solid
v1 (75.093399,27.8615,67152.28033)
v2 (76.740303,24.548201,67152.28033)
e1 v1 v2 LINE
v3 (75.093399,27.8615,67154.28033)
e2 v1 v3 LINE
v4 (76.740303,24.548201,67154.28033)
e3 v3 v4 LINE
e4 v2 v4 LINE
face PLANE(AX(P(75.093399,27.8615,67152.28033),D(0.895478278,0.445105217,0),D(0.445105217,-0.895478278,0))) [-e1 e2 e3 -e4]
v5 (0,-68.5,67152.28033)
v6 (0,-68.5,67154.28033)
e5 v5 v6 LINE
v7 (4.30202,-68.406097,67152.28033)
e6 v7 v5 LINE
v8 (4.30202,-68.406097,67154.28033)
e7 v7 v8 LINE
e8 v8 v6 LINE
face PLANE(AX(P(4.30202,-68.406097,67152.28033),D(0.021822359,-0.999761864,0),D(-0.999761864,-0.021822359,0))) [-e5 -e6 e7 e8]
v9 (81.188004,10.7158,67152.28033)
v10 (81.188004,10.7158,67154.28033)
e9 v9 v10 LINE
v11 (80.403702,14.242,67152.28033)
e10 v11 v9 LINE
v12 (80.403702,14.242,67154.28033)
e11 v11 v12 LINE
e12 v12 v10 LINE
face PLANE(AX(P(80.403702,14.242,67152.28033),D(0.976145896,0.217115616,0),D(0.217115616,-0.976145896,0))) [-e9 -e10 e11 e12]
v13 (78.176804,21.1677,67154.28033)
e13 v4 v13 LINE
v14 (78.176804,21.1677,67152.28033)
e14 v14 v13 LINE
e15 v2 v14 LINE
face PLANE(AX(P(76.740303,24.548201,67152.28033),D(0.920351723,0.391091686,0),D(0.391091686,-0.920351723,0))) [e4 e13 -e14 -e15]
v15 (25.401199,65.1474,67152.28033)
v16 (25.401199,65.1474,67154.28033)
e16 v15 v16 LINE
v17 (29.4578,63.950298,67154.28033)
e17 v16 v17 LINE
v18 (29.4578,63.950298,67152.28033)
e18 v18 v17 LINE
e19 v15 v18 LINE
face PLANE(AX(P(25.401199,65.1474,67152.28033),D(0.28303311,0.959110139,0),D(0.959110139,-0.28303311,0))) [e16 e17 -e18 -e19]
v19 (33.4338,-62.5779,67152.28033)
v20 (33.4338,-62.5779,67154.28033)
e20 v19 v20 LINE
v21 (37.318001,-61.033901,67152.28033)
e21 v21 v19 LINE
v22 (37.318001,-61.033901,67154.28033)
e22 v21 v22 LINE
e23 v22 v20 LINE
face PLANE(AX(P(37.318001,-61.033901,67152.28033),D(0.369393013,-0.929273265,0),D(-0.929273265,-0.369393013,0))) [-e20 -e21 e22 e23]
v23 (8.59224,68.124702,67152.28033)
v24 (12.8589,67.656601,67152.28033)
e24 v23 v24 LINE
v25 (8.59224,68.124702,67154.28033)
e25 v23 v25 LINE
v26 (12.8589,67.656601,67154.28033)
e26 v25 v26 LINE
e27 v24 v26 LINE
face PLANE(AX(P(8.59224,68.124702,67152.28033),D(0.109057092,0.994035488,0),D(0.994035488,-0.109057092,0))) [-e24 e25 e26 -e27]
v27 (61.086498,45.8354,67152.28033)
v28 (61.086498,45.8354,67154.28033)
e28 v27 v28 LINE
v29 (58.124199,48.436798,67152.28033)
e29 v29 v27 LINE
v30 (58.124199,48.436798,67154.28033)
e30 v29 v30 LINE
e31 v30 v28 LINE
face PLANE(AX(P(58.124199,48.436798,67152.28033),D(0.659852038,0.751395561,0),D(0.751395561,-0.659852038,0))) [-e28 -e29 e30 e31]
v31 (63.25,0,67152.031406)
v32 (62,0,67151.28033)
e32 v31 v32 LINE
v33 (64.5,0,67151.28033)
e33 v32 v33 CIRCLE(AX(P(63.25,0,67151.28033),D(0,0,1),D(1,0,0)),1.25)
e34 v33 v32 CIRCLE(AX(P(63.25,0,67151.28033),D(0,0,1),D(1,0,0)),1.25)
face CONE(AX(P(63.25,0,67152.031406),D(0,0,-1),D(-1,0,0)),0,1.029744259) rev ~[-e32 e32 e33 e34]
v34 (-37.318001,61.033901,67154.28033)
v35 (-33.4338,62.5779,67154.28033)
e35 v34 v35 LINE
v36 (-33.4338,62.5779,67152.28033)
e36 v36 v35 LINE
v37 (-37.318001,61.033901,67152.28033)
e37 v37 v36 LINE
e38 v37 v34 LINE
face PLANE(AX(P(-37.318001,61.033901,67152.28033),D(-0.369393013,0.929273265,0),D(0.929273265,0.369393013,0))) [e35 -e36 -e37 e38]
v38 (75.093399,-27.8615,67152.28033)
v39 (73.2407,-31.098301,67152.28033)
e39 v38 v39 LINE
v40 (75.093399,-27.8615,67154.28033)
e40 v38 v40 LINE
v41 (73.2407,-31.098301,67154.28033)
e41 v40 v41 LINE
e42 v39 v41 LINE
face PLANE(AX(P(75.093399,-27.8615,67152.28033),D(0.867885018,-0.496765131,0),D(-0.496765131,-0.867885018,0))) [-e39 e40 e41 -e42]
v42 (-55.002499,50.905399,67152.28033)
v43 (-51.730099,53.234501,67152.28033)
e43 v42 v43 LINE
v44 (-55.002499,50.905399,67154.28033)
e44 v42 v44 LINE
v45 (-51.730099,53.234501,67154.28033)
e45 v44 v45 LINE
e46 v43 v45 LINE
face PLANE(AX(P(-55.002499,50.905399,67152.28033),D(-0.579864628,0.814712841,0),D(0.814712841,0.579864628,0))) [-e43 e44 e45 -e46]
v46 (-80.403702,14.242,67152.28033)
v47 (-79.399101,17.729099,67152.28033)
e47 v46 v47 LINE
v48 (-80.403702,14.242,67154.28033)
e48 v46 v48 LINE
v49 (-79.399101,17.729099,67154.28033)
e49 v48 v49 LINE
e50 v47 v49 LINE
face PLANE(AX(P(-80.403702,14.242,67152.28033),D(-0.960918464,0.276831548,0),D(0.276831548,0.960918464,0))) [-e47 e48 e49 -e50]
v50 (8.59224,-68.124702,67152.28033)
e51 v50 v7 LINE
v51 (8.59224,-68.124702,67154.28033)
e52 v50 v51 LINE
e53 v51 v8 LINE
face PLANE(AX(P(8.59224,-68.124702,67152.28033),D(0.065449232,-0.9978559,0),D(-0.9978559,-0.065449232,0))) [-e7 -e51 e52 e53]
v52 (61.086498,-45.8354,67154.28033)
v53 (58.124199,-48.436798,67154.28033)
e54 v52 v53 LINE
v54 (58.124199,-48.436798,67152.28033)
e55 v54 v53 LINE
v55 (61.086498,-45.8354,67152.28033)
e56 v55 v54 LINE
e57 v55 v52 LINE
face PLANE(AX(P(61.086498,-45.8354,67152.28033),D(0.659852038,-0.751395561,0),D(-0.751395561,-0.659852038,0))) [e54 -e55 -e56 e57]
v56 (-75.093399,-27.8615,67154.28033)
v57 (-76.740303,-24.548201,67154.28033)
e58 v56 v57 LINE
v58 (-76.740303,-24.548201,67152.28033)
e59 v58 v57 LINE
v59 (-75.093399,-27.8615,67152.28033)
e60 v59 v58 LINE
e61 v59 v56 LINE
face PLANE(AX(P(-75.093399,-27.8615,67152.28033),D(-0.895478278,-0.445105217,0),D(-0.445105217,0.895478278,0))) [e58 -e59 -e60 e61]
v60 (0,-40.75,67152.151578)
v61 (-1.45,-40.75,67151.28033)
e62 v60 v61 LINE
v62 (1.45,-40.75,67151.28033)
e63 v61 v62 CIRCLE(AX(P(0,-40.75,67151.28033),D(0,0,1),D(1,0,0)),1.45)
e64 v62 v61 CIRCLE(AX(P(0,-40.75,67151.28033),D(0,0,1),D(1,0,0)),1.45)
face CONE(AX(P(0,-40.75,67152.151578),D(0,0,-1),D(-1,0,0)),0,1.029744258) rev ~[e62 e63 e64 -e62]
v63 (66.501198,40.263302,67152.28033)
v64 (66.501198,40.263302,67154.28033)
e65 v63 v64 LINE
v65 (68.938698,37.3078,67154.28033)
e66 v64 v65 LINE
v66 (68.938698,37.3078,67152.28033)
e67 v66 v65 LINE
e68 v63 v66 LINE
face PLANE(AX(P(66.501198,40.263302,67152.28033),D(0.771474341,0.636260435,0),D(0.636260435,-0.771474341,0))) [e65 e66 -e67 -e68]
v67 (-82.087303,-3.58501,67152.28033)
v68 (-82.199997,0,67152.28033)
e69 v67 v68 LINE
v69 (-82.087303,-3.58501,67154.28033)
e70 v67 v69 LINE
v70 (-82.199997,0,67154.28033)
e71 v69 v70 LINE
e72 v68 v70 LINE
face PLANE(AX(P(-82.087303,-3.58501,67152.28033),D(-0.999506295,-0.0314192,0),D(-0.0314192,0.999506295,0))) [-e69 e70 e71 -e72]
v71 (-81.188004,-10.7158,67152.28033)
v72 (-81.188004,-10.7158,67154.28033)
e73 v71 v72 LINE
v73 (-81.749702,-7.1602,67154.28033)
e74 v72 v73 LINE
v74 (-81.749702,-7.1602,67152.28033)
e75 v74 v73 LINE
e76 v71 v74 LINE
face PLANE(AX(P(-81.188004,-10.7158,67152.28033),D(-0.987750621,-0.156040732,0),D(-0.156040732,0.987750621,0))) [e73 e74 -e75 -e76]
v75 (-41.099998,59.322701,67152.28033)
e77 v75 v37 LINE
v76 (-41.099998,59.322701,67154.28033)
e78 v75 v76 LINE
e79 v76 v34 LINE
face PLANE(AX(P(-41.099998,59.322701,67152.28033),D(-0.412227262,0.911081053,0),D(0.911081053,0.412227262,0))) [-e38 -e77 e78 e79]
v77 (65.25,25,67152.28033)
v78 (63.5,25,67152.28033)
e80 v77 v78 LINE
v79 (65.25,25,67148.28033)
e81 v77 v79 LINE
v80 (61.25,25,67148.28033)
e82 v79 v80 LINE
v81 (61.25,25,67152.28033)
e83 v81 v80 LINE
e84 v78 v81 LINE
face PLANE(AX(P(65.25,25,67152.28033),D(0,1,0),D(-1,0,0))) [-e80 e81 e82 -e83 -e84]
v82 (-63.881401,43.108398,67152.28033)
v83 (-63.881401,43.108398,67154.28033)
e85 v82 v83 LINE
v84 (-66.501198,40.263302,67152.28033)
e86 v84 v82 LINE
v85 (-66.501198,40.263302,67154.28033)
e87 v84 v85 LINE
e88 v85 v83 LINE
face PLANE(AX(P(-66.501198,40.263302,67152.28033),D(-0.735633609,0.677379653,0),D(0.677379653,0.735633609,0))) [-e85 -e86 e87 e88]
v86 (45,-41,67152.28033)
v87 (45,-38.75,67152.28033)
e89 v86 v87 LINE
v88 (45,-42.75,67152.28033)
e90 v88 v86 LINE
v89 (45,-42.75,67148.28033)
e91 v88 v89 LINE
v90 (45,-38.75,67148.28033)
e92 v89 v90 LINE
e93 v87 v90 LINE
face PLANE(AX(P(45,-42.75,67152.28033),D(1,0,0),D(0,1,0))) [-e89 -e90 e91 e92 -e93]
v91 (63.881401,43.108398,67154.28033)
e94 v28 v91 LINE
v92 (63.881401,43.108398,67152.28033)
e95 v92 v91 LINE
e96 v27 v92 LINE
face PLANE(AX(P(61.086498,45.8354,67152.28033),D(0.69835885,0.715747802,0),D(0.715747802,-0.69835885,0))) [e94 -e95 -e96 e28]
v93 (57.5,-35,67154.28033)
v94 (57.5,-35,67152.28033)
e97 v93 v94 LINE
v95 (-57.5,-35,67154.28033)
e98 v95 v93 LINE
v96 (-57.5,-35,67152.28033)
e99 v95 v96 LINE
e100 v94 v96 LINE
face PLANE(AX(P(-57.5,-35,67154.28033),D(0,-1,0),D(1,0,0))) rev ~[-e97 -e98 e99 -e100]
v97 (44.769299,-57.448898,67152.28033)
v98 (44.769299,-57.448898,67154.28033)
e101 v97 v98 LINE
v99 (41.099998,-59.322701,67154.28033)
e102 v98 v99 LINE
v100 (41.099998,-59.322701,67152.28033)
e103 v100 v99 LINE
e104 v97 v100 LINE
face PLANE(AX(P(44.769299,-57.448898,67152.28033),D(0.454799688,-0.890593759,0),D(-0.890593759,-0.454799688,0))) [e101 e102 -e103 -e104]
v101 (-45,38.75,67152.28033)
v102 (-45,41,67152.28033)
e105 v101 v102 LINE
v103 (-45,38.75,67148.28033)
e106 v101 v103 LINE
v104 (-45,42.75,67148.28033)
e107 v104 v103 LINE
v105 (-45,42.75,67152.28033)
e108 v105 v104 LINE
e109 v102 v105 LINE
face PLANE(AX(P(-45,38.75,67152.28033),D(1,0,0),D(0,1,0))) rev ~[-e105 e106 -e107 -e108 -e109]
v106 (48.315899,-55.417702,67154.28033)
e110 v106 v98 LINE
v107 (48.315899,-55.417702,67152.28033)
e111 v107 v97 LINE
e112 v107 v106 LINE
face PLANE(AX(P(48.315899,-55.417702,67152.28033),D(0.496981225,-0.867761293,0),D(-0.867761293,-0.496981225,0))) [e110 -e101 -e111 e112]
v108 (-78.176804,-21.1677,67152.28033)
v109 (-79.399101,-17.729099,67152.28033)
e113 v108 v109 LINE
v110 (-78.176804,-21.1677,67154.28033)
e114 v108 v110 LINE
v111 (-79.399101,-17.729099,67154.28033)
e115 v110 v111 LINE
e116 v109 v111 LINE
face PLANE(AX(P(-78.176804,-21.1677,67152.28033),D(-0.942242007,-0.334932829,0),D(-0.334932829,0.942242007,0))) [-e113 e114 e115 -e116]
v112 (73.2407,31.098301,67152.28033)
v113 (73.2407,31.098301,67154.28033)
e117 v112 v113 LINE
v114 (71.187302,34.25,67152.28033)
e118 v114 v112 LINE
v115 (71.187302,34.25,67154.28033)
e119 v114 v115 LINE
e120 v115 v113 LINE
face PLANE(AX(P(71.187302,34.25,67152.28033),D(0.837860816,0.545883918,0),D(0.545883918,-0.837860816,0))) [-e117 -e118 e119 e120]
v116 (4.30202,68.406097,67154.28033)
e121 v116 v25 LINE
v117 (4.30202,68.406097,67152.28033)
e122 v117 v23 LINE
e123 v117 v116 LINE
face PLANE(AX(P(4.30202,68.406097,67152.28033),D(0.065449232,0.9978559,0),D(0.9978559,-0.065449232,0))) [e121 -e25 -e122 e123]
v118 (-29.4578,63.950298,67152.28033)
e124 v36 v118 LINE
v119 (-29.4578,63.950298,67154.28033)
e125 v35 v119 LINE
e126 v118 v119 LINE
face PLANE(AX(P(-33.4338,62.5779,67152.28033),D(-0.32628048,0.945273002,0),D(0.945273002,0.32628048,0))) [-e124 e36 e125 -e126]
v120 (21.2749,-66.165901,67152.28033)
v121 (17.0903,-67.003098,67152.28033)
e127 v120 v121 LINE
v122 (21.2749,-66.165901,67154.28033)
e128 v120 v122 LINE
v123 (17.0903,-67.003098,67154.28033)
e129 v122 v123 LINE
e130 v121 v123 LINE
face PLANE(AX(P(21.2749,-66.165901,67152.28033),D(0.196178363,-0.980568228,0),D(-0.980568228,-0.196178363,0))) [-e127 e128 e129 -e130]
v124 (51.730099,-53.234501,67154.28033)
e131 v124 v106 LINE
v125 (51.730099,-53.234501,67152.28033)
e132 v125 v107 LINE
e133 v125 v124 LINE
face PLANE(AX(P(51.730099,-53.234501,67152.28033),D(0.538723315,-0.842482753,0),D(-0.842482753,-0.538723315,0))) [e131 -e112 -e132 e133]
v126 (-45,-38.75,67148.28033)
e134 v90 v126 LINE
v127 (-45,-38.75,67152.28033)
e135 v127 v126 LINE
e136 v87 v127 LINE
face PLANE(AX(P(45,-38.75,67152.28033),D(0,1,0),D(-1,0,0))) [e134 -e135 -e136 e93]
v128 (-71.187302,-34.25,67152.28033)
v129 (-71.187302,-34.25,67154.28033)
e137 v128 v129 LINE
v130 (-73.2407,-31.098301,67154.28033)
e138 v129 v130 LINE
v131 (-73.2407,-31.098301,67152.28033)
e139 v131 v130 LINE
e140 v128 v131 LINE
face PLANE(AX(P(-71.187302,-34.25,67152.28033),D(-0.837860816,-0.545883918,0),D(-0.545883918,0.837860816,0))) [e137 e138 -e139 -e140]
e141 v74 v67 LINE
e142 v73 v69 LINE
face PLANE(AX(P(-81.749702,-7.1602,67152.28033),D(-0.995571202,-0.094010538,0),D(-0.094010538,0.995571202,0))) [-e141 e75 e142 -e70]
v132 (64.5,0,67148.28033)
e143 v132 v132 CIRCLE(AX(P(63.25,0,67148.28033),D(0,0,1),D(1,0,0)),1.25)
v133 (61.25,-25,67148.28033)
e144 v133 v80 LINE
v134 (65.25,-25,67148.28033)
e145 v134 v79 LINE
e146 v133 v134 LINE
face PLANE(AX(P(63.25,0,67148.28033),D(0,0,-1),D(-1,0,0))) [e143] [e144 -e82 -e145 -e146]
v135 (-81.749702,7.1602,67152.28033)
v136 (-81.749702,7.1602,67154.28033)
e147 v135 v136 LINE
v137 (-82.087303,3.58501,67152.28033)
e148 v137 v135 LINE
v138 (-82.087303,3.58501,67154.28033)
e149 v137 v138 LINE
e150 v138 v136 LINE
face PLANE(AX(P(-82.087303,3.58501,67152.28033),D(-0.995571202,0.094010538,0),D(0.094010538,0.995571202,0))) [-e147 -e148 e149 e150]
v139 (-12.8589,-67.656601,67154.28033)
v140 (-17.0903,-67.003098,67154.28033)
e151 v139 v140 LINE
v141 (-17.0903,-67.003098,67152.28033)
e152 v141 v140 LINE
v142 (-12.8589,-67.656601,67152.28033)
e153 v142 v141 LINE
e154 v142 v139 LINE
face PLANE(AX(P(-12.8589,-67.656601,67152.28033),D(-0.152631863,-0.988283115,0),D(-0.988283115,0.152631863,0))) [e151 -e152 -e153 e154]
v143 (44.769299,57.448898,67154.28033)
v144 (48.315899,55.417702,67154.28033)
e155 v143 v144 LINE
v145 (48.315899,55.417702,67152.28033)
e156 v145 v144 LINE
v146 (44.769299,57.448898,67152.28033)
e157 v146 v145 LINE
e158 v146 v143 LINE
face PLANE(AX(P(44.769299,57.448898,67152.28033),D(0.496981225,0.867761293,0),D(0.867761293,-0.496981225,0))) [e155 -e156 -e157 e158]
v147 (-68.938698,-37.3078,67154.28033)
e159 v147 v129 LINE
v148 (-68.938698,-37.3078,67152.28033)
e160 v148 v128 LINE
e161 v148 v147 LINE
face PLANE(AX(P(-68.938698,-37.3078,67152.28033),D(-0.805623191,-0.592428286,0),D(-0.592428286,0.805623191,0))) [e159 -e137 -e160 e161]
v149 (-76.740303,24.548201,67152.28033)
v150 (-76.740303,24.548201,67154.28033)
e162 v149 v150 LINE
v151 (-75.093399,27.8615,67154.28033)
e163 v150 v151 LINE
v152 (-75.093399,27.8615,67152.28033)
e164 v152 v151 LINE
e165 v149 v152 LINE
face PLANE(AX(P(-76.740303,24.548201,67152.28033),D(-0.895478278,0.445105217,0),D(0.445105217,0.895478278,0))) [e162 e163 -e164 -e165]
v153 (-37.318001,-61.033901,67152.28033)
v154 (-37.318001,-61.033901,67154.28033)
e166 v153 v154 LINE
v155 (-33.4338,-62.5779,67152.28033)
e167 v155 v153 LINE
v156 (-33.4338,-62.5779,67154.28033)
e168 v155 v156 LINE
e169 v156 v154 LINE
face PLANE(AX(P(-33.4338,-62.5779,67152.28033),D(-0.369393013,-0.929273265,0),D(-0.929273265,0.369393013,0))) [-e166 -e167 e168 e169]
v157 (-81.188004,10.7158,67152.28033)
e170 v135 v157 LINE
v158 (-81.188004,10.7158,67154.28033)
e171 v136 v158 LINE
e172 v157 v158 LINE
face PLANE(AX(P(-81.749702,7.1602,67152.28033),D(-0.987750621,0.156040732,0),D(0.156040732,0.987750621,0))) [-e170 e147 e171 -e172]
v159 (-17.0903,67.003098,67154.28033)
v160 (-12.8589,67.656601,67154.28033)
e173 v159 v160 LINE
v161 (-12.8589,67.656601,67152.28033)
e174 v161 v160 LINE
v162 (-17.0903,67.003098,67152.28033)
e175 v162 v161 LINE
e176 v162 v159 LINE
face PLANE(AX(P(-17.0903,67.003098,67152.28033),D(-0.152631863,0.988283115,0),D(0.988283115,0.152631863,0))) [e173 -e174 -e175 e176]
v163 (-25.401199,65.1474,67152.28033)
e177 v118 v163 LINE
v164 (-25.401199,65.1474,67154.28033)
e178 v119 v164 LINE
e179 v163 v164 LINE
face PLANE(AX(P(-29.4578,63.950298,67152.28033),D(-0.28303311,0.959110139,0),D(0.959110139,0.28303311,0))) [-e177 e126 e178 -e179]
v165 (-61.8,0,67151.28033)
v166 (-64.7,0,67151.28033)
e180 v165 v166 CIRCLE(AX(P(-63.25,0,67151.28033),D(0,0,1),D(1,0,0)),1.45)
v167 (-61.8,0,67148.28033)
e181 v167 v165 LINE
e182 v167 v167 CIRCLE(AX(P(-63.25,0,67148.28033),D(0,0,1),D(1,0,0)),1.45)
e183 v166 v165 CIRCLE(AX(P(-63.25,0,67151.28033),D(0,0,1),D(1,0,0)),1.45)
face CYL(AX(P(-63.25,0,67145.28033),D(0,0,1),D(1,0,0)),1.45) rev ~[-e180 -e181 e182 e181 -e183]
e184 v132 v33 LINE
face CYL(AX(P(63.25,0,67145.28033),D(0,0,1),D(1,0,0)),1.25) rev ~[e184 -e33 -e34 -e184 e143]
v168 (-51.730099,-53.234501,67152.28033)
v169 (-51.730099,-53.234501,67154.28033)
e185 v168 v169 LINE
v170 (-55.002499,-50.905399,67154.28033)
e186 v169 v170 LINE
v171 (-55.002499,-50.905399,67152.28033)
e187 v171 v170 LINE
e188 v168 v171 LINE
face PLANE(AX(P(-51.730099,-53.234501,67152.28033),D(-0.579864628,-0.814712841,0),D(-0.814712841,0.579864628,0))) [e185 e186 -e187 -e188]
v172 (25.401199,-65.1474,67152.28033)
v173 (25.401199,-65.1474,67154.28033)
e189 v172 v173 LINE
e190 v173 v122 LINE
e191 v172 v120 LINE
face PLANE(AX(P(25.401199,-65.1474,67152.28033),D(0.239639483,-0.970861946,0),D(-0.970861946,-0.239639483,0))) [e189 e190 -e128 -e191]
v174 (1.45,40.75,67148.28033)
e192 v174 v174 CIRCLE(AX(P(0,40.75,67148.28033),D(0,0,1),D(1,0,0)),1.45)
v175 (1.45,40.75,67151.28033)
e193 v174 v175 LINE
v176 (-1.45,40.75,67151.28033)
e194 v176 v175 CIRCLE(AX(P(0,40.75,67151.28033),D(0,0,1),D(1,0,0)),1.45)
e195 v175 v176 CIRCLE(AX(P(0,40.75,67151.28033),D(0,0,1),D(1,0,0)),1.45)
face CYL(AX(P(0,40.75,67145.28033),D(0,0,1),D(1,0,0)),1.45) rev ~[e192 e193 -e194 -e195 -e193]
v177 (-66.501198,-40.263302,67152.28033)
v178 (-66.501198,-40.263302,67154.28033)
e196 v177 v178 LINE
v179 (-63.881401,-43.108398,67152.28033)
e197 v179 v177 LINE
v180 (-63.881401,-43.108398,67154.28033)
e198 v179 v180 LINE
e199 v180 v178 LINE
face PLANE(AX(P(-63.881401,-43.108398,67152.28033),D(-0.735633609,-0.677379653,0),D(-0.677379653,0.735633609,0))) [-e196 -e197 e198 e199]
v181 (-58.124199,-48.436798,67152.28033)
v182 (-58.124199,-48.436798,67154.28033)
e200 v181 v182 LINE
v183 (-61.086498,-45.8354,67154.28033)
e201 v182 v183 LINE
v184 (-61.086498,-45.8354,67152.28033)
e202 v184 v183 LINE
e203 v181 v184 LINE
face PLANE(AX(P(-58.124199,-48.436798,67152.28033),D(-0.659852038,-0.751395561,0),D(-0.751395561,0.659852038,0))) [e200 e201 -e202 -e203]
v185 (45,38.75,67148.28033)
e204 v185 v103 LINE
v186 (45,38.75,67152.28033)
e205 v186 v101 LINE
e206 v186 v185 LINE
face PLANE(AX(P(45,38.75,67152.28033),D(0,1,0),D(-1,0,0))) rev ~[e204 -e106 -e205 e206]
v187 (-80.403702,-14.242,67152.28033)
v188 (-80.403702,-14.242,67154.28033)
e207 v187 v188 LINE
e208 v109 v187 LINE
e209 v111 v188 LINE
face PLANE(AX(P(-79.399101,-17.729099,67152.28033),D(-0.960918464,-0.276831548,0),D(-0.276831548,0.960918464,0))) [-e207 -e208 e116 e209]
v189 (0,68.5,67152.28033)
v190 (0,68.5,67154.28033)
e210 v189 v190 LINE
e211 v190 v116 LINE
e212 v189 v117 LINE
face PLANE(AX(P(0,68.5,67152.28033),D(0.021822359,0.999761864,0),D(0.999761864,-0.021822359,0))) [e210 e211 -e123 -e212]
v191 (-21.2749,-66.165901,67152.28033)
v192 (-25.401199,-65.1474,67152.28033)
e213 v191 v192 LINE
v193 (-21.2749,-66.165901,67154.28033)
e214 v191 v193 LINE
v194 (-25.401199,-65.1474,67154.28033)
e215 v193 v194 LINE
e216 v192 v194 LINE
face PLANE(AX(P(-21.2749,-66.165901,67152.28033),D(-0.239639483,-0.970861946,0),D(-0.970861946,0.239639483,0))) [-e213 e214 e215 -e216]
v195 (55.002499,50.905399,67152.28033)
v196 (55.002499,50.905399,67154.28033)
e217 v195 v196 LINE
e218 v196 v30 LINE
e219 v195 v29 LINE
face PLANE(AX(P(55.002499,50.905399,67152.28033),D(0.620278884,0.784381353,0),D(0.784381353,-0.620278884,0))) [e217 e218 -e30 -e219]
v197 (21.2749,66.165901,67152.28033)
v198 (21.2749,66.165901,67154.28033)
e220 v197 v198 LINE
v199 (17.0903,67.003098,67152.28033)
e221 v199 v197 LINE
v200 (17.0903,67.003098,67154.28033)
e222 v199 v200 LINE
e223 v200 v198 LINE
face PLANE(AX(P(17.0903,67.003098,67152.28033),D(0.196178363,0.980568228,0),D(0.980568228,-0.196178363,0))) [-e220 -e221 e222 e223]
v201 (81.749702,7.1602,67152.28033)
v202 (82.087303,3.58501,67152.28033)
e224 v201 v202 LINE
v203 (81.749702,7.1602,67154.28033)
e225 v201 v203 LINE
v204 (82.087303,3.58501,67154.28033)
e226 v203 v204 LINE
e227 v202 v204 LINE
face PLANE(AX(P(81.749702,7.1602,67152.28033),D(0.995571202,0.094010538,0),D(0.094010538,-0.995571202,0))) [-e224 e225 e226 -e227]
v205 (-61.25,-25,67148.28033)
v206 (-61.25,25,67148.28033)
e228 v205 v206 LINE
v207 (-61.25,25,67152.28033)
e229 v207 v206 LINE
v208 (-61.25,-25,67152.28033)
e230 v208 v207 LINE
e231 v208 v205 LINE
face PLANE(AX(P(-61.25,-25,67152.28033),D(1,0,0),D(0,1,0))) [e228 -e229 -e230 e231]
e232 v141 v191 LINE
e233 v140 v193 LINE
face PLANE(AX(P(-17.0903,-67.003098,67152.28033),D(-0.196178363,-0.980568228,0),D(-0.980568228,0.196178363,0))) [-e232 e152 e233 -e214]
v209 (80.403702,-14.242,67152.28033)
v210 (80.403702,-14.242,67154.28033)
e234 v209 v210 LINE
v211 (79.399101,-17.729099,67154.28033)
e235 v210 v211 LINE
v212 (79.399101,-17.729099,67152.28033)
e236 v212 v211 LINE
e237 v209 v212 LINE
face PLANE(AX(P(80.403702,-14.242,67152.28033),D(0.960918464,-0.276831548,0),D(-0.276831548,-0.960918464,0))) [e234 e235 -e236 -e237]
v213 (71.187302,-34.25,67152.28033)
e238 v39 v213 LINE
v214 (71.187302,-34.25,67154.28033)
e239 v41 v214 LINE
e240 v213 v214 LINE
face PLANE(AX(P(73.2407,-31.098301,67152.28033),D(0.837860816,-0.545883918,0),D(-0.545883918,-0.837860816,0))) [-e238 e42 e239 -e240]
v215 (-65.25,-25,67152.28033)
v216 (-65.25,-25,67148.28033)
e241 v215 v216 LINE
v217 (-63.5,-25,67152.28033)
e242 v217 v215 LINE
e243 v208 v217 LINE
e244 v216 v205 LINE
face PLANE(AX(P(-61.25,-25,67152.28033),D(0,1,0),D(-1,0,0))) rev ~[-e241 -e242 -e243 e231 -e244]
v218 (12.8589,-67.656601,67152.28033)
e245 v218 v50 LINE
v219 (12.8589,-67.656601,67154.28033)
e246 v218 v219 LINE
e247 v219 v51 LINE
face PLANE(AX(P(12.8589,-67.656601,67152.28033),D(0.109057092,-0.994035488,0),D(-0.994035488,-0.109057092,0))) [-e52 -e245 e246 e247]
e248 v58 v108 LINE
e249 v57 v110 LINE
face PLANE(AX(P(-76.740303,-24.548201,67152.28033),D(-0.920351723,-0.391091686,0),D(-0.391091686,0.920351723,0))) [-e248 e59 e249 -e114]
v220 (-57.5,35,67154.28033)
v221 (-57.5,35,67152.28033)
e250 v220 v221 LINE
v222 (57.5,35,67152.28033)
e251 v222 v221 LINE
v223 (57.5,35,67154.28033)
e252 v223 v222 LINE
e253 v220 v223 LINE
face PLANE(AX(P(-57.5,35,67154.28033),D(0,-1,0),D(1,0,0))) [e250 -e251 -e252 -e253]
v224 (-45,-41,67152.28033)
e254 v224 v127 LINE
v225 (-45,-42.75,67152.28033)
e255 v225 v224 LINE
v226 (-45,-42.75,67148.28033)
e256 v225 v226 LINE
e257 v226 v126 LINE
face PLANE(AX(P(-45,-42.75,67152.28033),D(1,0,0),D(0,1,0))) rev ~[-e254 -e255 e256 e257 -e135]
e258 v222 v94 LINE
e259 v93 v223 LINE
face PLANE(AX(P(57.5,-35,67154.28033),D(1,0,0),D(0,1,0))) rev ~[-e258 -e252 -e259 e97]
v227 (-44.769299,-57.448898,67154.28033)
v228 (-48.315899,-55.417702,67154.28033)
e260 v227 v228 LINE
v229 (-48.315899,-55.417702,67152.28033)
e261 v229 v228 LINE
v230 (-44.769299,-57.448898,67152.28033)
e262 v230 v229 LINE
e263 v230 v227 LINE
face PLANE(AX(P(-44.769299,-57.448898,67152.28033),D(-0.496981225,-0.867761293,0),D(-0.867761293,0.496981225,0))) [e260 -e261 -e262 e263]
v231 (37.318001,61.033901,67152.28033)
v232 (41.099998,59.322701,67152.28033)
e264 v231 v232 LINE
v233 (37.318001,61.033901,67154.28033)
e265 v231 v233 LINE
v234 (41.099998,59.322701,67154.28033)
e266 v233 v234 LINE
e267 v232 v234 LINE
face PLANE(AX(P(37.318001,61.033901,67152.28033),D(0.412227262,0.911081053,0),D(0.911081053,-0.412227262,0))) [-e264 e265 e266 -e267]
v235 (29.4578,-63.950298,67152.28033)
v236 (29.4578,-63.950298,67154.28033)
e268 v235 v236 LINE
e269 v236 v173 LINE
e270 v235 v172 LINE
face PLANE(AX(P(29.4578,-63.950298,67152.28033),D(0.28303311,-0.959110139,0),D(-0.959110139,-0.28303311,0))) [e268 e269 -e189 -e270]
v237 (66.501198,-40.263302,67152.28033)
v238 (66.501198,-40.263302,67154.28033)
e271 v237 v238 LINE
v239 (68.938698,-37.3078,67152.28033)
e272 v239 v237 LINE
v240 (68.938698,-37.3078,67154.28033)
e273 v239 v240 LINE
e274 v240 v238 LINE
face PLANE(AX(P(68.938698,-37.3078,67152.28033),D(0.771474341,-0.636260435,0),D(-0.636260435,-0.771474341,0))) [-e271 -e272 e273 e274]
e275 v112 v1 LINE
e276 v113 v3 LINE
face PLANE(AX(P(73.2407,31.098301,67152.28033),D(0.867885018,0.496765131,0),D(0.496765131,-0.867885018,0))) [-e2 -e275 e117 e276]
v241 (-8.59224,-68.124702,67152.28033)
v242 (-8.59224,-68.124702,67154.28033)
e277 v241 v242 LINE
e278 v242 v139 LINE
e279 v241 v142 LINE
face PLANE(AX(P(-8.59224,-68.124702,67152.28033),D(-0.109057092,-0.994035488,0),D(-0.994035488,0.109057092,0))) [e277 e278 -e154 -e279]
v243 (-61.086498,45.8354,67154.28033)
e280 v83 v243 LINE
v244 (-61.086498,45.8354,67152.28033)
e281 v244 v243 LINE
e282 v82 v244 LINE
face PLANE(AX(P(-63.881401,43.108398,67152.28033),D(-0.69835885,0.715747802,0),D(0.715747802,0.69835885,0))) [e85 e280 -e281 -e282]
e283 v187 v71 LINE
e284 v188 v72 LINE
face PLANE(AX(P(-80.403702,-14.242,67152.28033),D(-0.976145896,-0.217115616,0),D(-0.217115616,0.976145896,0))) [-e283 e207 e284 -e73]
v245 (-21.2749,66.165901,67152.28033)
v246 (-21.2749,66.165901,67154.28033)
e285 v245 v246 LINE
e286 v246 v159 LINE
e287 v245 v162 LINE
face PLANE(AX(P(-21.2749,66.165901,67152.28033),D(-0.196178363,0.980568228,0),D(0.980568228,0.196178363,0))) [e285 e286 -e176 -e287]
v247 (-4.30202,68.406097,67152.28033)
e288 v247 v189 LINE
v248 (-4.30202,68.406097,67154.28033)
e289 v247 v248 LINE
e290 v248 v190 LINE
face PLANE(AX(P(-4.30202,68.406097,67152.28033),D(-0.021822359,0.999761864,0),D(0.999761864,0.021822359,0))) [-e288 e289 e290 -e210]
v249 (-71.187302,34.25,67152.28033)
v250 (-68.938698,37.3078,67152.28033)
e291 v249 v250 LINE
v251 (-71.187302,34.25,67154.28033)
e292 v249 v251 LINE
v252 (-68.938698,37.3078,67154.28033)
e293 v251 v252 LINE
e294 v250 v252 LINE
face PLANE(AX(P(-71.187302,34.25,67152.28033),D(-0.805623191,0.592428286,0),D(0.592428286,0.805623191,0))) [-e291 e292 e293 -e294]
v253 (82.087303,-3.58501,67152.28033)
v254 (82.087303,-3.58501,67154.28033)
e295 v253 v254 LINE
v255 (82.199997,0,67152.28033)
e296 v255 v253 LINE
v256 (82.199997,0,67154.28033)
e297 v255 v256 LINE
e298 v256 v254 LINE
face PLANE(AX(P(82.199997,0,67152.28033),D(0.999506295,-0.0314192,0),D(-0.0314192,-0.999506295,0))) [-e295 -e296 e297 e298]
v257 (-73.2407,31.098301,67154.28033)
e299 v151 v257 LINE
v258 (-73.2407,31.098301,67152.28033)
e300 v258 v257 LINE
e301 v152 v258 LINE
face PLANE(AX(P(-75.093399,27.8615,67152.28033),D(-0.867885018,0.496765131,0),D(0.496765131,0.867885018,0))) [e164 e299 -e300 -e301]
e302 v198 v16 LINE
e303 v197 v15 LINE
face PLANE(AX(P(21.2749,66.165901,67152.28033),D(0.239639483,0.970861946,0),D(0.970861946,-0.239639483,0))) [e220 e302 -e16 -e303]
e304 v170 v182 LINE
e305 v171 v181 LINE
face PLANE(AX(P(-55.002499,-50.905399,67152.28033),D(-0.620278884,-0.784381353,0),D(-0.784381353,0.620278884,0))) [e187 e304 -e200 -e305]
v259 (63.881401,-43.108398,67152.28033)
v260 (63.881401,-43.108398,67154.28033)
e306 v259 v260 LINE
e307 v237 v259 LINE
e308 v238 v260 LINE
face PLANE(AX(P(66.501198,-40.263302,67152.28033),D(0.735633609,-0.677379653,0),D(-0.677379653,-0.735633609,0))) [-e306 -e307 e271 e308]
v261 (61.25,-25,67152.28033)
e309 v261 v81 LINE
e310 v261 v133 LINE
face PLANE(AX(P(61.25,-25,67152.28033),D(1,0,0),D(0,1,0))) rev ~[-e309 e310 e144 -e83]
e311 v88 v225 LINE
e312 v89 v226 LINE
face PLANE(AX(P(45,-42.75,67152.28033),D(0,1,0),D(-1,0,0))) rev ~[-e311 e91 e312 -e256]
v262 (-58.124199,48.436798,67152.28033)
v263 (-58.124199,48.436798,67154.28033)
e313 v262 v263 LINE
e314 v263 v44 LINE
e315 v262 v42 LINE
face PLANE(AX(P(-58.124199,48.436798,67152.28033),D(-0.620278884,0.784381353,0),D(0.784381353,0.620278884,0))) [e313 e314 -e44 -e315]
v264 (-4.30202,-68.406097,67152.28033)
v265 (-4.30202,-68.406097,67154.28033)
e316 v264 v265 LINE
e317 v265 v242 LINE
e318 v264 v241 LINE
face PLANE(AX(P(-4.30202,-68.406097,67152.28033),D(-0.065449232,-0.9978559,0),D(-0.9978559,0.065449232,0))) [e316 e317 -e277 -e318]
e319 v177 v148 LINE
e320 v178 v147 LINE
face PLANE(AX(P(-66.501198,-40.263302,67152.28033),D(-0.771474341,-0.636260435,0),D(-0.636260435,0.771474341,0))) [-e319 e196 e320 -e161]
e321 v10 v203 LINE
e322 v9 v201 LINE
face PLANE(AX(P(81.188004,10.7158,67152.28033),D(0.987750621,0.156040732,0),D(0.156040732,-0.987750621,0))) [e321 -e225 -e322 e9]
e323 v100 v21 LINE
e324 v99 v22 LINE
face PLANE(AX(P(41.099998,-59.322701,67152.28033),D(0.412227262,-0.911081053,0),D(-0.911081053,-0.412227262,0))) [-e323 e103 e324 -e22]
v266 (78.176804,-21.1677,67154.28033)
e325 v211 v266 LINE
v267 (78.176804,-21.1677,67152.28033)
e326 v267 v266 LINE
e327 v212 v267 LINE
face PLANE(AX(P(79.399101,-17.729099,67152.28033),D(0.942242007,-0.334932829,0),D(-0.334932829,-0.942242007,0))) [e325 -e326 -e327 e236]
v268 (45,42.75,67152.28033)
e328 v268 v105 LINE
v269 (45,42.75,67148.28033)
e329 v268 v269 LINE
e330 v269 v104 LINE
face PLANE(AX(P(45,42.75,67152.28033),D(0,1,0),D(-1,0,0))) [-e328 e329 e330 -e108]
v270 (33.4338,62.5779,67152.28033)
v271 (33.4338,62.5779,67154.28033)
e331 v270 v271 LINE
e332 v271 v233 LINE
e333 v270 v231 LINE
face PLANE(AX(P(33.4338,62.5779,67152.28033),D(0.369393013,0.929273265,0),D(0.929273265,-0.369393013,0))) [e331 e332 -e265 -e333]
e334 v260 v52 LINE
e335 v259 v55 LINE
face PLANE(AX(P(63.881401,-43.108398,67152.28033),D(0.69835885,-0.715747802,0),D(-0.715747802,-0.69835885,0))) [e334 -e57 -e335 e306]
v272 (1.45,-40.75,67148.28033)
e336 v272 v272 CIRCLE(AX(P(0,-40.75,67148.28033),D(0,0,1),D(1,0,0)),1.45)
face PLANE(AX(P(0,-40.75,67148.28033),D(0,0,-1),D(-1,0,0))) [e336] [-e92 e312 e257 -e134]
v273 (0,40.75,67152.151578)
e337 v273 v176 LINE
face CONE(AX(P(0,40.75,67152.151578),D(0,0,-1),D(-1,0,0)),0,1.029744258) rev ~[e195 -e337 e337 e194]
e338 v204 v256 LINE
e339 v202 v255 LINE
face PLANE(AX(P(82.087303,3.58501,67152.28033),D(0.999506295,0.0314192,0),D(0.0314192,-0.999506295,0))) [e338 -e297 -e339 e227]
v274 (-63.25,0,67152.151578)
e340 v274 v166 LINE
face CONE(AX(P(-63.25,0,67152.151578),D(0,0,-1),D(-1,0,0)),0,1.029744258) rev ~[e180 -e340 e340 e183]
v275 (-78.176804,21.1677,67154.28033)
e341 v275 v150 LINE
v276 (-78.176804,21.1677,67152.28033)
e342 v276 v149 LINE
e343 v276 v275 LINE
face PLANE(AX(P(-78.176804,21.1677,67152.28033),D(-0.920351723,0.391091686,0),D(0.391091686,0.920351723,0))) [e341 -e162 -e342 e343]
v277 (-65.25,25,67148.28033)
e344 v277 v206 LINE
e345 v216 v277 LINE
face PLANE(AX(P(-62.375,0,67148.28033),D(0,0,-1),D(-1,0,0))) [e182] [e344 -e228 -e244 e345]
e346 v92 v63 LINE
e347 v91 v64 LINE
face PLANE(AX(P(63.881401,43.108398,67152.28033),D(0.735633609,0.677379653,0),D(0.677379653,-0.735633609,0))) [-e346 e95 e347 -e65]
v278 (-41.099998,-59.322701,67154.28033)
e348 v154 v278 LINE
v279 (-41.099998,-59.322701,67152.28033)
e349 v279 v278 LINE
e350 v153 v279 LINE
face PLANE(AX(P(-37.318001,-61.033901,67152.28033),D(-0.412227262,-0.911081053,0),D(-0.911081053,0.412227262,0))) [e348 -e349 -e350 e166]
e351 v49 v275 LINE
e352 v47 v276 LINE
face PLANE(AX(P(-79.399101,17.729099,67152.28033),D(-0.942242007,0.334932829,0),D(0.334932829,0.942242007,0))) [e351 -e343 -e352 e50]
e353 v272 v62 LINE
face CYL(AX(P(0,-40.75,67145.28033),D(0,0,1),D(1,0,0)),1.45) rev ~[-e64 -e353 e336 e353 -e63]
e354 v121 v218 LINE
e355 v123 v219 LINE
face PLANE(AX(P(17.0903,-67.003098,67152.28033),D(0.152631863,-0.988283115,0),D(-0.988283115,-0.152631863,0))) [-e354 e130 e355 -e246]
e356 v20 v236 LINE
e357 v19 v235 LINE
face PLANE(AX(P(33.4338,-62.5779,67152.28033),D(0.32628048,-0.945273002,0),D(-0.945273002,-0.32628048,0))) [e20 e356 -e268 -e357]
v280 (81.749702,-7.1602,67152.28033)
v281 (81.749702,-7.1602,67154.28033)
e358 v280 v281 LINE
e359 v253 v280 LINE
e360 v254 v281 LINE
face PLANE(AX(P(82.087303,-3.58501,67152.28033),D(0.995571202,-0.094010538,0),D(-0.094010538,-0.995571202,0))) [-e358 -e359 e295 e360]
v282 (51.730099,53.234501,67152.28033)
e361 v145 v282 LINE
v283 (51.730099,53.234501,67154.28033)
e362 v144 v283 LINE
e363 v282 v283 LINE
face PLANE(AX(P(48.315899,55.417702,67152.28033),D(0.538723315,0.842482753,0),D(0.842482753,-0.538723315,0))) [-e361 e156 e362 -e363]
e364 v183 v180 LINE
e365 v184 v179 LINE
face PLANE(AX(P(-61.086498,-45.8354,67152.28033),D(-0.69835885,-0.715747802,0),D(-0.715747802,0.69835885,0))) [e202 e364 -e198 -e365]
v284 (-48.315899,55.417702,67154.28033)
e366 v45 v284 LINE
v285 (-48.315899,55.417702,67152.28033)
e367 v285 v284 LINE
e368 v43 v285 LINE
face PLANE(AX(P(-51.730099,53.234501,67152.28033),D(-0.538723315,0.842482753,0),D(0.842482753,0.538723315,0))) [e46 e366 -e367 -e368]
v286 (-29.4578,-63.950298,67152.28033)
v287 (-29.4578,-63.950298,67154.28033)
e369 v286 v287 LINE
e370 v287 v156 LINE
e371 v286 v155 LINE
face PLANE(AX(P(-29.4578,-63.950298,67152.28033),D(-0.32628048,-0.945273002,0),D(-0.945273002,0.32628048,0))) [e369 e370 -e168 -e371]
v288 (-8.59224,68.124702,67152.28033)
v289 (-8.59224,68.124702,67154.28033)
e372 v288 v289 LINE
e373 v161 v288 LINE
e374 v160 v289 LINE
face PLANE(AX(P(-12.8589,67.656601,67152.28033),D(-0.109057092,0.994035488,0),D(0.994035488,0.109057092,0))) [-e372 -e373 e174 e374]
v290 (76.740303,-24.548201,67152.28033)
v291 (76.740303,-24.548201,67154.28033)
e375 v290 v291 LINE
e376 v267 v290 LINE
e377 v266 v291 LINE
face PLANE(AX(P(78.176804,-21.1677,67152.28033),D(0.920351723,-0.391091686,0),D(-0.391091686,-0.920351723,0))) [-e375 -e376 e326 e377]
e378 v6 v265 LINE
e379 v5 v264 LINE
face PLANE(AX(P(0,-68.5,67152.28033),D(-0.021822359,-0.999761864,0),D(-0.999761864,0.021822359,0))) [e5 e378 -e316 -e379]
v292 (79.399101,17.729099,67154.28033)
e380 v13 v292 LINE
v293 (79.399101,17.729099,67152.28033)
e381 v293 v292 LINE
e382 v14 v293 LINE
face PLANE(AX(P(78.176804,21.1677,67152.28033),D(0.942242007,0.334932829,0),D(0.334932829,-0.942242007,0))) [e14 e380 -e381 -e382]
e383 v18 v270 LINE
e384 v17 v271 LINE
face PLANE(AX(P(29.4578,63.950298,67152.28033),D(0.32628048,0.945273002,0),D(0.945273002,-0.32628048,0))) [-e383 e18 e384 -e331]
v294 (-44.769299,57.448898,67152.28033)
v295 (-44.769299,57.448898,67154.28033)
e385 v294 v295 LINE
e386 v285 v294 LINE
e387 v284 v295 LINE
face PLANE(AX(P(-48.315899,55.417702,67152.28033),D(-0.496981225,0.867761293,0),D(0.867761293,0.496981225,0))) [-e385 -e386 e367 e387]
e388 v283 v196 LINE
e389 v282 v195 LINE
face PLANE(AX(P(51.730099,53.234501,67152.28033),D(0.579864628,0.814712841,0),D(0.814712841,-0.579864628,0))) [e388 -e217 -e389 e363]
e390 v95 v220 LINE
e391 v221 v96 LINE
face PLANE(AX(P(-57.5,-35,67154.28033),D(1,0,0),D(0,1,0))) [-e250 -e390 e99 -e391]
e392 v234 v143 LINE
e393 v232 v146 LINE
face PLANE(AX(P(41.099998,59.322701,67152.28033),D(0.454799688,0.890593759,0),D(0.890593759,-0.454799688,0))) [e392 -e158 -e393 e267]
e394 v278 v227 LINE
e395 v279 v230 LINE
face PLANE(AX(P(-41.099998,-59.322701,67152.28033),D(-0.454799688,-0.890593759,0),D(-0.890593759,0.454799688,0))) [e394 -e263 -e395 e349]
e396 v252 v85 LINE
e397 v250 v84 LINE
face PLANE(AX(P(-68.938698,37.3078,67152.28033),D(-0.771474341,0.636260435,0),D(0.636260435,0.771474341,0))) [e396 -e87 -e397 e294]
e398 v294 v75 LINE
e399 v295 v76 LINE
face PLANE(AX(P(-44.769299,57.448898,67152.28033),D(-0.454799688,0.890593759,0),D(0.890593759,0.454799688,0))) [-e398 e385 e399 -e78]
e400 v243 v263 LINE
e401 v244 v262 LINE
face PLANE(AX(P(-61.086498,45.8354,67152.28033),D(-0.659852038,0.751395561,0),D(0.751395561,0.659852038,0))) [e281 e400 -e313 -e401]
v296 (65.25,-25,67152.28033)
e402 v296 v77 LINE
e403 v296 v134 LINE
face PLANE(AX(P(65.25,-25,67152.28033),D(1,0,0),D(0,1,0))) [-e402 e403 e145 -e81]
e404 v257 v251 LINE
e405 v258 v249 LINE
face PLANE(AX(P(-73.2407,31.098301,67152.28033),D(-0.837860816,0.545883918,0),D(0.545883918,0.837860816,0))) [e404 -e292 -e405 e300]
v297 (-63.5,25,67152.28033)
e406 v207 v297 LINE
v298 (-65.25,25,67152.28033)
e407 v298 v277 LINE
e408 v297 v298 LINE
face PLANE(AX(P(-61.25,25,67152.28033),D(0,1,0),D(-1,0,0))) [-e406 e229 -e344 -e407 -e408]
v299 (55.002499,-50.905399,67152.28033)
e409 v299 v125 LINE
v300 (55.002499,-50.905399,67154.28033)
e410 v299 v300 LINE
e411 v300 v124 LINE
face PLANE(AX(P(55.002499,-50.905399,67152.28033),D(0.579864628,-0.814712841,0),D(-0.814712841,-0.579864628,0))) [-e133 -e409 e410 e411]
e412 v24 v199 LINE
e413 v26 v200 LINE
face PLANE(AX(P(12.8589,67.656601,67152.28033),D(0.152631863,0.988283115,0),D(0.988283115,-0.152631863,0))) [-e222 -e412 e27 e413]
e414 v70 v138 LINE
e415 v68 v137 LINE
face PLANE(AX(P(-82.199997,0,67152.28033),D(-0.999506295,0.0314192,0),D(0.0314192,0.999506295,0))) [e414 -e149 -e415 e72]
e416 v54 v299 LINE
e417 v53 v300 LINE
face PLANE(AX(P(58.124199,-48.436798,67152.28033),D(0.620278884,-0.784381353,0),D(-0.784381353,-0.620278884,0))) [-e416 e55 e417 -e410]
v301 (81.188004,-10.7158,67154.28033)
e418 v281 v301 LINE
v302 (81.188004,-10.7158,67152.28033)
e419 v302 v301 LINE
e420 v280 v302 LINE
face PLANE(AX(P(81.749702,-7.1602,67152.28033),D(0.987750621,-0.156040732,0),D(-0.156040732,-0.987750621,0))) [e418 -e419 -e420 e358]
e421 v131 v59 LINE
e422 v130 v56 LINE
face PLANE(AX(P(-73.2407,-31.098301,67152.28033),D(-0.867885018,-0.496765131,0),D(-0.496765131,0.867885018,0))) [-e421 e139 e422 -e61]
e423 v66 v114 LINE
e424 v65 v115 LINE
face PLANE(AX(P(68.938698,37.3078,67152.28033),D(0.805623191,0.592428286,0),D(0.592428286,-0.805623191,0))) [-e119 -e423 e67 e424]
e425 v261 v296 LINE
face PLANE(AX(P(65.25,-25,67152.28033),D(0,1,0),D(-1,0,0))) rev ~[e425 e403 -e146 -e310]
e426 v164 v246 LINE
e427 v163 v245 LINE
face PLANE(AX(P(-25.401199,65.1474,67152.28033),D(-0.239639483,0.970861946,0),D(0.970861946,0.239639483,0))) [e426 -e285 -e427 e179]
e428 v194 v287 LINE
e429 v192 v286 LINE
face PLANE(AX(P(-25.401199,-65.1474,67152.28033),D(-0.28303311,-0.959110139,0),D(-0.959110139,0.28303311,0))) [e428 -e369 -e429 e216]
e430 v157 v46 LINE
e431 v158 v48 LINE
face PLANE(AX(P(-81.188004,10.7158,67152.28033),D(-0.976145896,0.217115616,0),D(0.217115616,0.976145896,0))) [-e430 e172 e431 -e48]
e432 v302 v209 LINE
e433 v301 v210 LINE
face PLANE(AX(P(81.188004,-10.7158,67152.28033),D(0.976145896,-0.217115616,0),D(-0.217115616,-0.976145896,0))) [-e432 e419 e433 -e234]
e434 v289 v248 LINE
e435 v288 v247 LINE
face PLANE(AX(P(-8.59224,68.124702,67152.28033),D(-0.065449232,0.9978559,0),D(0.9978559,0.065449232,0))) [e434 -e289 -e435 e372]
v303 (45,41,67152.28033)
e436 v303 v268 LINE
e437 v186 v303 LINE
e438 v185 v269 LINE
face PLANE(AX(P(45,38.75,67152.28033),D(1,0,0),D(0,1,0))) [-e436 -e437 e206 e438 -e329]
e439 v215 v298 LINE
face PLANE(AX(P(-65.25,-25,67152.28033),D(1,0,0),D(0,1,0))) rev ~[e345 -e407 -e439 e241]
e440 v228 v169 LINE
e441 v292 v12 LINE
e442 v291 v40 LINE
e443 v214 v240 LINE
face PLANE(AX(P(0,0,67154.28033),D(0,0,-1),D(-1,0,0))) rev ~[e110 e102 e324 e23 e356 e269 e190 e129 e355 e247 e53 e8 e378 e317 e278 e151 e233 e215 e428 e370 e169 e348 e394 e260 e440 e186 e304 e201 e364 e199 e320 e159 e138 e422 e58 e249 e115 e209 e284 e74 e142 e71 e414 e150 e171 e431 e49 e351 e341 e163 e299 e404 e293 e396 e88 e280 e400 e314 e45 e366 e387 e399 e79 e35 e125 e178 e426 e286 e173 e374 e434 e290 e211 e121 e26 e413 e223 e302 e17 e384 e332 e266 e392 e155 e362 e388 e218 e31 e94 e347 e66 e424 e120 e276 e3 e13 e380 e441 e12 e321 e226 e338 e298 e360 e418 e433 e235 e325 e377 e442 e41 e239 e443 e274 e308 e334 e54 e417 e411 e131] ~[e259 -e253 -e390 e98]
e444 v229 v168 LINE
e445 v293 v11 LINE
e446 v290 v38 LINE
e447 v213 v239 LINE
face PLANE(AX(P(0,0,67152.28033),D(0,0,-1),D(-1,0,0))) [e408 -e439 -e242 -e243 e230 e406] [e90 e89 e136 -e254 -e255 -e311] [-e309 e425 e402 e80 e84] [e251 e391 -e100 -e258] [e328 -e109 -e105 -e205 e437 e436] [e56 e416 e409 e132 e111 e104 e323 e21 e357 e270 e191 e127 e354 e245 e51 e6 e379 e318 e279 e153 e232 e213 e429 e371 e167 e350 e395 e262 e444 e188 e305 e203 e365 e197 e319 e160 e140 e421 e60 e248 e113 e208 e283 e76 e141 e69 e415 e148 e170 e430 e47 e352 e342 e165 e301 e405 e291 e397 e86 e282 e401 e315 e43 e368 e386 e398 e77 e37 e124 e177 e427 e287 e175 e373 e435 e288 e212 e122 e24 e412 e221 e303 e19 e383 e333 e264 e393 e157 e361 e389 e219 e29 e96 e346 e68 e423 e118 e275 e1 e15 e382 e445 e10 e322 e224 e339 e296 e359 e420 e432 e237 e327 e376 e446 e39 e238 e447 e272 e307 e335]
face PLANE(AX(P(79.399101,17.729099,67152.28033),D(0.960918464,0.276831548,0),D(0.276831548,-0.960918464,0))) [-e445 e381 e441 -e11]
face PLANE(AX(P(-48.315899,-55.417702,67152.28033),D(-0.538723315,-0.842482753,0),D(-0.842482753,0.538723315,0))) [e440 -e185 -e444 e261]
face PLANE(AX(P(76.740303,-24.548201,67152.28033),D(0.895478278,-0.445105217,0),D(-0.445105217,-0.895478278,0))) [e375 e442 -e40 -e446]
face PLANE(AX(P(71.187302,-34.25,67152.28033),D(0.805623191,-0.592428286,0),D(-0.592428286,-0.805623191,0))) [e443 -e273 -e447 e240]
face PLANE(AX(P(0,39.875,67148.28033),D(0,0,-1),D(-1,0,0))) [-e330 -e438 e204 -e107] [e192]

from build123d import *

# Parameters (mm, degrees)
BOSS_EXTRUDE1_DEPTH             = 2000
SKETCH2_W                       = 115000
SKETCH2_H                       = 70000
CUT_EXTRUDE1_DEPTH              = 2001
SKETCH3_W                       = 2250
SKETCH3_H                       = 50000
BOSS_EXTRUDE2_DEPTH             = 4000
SKETCH4_W                       = 90000
SKETCH4_H                       = 2250
BOSS_EXTRUDE3_DEPTH             = 4000
SKETCH5_W                       = 90000
SKETCH5_H                       = 2250
BOSS_EXTRUDE4_DEPTH             = 4000
SKETCH6_W                       = 2250
SKETCH6_H                       = 50000
BOSS_EXTRUDE5_DEPTH             = 4000
SCALE4_SCALE                    = 0.001
SKETCH17_W                      = 4
SKETCH17_H                      = 50
BOSS_EXTRUDE7_DEPTH             = 4
F_40_0_098_DIAMETER_HOLE1_D     = 2.50000008
F_40_0_098_DIAMETER_HOLE1_DEPTH = 3
F_40_0_098_DIAMETER_HOLE1_TIP   = 0.751075798
SKETCH21_W                      = 90
SKETCH21_H                      = 4
BOSS_EXTRUDE8_DEPTH             = 4
SKETCH22_W                      = 4
SKETCH22_H                      = 50
BOSS_EXTRUDE9_DEPTH             = 4
SKETCH23_W                      = 90
SKETCH23_H                      = 4
BOSS_EXTRUDE10_DEPTH            = 4
M2_5_CLEARANCE_HOLE3_D          = 2.9
M2_5_CLEARANCE_HOLE3_DEPTH      = 3
M2_5_CLEARANCE_HOLE3_TIP        = 0.871247898
M2_5_CLEARANCE_HOLE4_D          = 2.9
M2_5_CLEARANCE_HOLE4_DEPTH      = 3
M2_5_CLEARANCE_HOLE4_TIP        = 0.871247898
M2_5_CLEARANCE_HOLE5_D          = 2.9
M2_5_CLEARANCE_HOLE5_DEPTH      = 3
M2_5_CLEARANCE_HOLE5_TIP        = 0.871247898


with BuildPart() as part:
    # Sketch1 → Boss-Extrude1 (new body)
    with BuildSketch(Plane(origin=(0, 0, 66500), x_dir=(-1, 0, 0), z_dir=(0, 0, -1))):
        Polygon((41099.998474121, 59322.700500488), (37318.000793457, 61033.9012146), (33433.799743652, 62577.899932861), (29457.799911499, 63950.298309326), (25401.19934082, 65147.399902344), (21274.900436401, 66165.901184082), (17090.299606323, 67003.09753418), (12858.90007019, 67656.600952148), (8592.240333557, 68124.702453613), (4302.020072937, 68406.097412109), (0, 68500), (-4302.020072937, 68406.097412109), (-8592.240333557, 68124.702453613), (-12858.90007019, 67656.600952148), (-17090.299606323, 67003.09753418), (-21274.900436401, 66165.901184082), (-25401.19934082, 65147.399902344), (-29457.799911499, 63950.298309326), (-33433.799743652, 62577.899932861), (-37318.000793457, 61033.9012146), (-41099.998474121, 59322.700500488), (-44769.298553467, 57448.89831543), (-48315.898895264, 55417.701721191), (-51730.098724365, 53234.50088501), (-55002.498626709, 50905.39932251), (-58124.198913574, 48436.798095703), (-61086.498260498, 45835.399627686), (-63881.401062012, 43108.3984375), (-66501.197814941, 40263.301849365), (-68938.697814941, 37307.800292969), (-71187.301635742, 34250), (-73240.699768066, 31098.300933838), (-75093.399047852, 27861.499786377), (-76740.303039551, 24548.2006073), (-78176.803588867, 21167.699813843), (-79399.101257324, 17729.099273682), (-80403.701782227, 14241.99962616), (-81188.003540039, 10715.800285339), (-81749.702453613, 7160.200119019), (-82087.303161621, 3585.010051727), (-82199.996948242, 0), (-82087.303161621, -3585.010051727), (-81749.702453613, -7160.200119019), (-81188.003540039, -10715.800285339), (-80403.701782227, -14241.99962616), (-79399.101257324, -17729.099273682), (-78176.803588867, -21167.699813843), (-76740.303039551, -24548.2006073), (-75093.399047852, -27861.499786377), (-73240.699768066, -31098.300933838), (-71187.301635742, -34250), (-68938.697814941, -37307.800292969), (-66501.197814941, -40263.301849365), (-63881.401062012, -43108.3984375), (-61086.498260498, -45835.399627686), (-58124.198913574, -48436.798095703), (-55002.498626709, -50905.39932251), (-51730.098724365, -53234.50088501), (-48315.898895264, -55417.701721191), (-44769.298553467, -57448.89831543), (-41099.998474121, -59322.700500488), (-37318.000793457, -61033.9012146), (-33433.799743652, -62577.899932861), (-29457.799911499, -63950.298309326), (-25401.19934082, -65147.399902344), (-21274.900436401, -66165.901184082), (-17090.299606323, -67003.09753418), (-12858.90007019, -67656.600952148), (-8592.240333557, -68124.702453613), (-4302.020072937, -68406.097412109), (0, -68500), (4302.020072937, -68406.097412109), (8592.240333557, -68124.702453613), (12858.90007019, -67656.600952148), (17090.299606323, -67003.09753418), (21274.900436401, -66165.901184082), (25401.19934082, -65147.399902344), (29457.799911499, -63950.298309326), (33433.799743652, -62577.899932861), (37318.000793457, -61033.9012146), (41099.998474121, -59322.700500488), (44769.298553467, -57448.89831543), (48315.898895264, -55417.701721191), (51730.098724365, -53234.50088501), (55002.498626709, -50905.39932251), (58124.198913574, -48436.798095703), (61086.498260498, -45835.399627686), (63881.401062012, -43108.3984375), (66501.197814941, -40263.301849365), (68938.697814941, -37307.800292969), (71187.301635742, -34250), (73240.699768066, -31098.300933838), (75093.399047852, -27861.499786377), (76740.303039551, -24548.2006073), (78176.803588867, -21167.699813843), (79399.101257324, -17729.099273682), (80403.701782227, -14241.99962616), (81188.003540039, -10715.800285339), (81749.702453613, -7160.200119019), (82087.303161621, -3585.010051727), (82199.996948242, 0), (82087.303161621, 3585.010051727), (81749.702453613, 7160.200119019), (81188.003540039, 10715.800285339), (80403.701782227, 14241.99962616), (79399.101257324, 17729.099273682), (78176.803588867, 21167.699813843), (76740.303039551, 24548.2006073), (75093.399047852, 27861.499786377), (73240.699768066, 31098.300933838), (71187.301635742, 34250), (68938.697814941, 37307.800292969), (66501.197814941, 40263.301849365), (63881.401062012, 43108.3984375), (61086.498260498, 45835.399627686), (58124.198913574, 48436.798095703), (55002.498626709, 50905.39932251), (51730.098724365, 53234.50088501), (48315.898895264, 55417.701721191), (44769.298553467, 57448.89831543), align=None)
    extrude(amount=-BOSS_EXTRUDE1_DEPTH)

    # Sketch2 → Cut-Extrude1 (cut, through all)
    with BuildSketch(Plane.XY.offset(68500)):
        Rectangle(SKETCH2_W, SKETCH2_H)
    extrude(amount=-CUT_EXTRUDE1_DEPTH, mode=Mode.SUBTRACT)

    # Sketch3 → Boss-Extrude2 (add)
    with BuildSketch(Plane(origin=(0, 0, 66500), x_dir=(-1, 0, 0), z_dir=(0, 0, -1))):
        with Locations((62375, 0)):
            Rectangle(SKETCH3_W, SKETCH3_H)
    extrude(amount=BOSS_EXTRUDE2_DEPTH)

    # Sketch4 → Boss-Extrude3 (add)
    with BuildSketch(Plane(origin=(0, 0, 66500), x_dir=(-1, 0, 0), z_dir=(0, 0, -1))):
        with Locations((0, 39875)):
            Rectangle(SKETCH4_W, SKETCH4_H)
    extrude(amount=BOSS_EXTRUDE3_DEPTH)

    # Sketch5 → Boss-Extrude4 (add)
    with BuildSketch(Plane(origin=(0, 0, 66500), x_dir=(-1, 0, 0), z_dir=(0, 0, -1))):
        with Locations((0, -39875)):
            Rectangle(SKETCH5_W, SKETCH5_H)
    extrude(amount=BOSS_EXTRUDE4_DEPTH)

    # Sketch6 → Boss-Extrude5 (add)
    with BuildSketch(Plane(origin=(0, 0, 66500), x_dir=(-1, 0, 0), z_dir=(0, 0, -1))):
        with Locations((-62375, 0)):
            Rectangle(SKETCH6_W, SKETCH6_H)
    extrude(amount=BOSS_EXTRUDE5_DEPTH)


with BuildPart() as part_1:
    # Scale4: scaled about (0, 0, 67152.933263132)
    add(part.part.scale(SCALE4_SCALE).moved(Location((0, 0, 67085.780329869))))

    # Sketch17 → Boss-Extrude7 (add)
    with BuildSketch(Plane(origin=(0, 0, 67152.280329869), x_dir=(-1, 0, 0), z_dir=(0, 0, -1))):
        with Locations((-63.25, 0)):
            Rectangle(SKETCH17_W, SKETCH17_H)
    extrude(amount=BOSS_EXTRUDE7_DEPTH)

    # #40 (0.098) Diameter Hole1
    with Locations(Plane(origin=(0, 0, 67148.280329869), x_dir=(-1, 0, 0), z_dir=(0, 0, -1))):
        with Locations((-63.25, 0)):
            Hole(F_40_0_098_DIAMETER_HOLE1_D / 2, depth=F_40_0_098_DIAMETER_HOLE1_DEPTH)
            with Locations((0, 0, -(F_40_0_098_DIAMETER_HOLE1_DEPTH + F_40_0_098_DIAMETER_HOLE1_TIP / 2))):  # 118° drill point
                Cone(0, F_40_0_098_DIAMETER_HOLE1_D / 2, F_40_0_098_DIAMETER_HOLE1_TIP, mode=Mode.SUBTRACT)

    # Sketch21 → Boss-Extrude8 (add)
    with BuildSketch(Plane(origin=(0, 0, 67152.280329869), x_dir=(-1, 0, 0), z_dir=(0, 0, -1))):
        with Locations((0, 40.75)):
            Rectangle(SKETCH21_W, SKETCH21_H)
    extrude(amount=BOSS_EXTRUDE8_DEPTH)

    # Sketch22 → Boss-Extrude9 (add)
    with BuildSketch(Plane(origin=(0, 0, 67152.280329869), x_dir=(-1, 0, 0), z_dir=(0, 0, -1))):
        with Locations((63.25, 0)):
            Rectangle(SKETCH22_W, SKETCH22_H)
    extrude(amount=BOSS_EXTRUDE9_DEPTH)

    # Sketch23 → Boss-Extrude10 (add)
    with BuildSketch(Plane(origin=(0, 0, 67152.280329869), x_dir=(-1, 0, 0), z_dir=(0, 0, -1))):
        with Locations((0, -40.75)):
            Rectangle(SKETCH23_W, SKETCH23_H)
    extrude(amount=BOSS_EXTRUDE10_DEPTH)

    # M2.5 Clearance Hole3
    with Locations(Plane(origin=(0, 0, 67148.280329869), x_dir=(-1, 0, 0), z_dir=(0, 0, -1))):
        with Locations((0, -40.75)):
            Hole(M2_5_CLEARANCE_HOLE3_D / 2, depth=M2_5_CLEARANCE_HOLE3_DEPTH)
            with Locations((0, 0, -(M2_5_CLEARANCE_HOLE3_DEPTH + M2_5_CLEARANCE_HOLE3_TIP / 2))):  # 118° drill point
                Cone(0, M2_5_CLEARANCE_HOLE3_D / 2, M2_5_CLEARANCE_HOLE3_TIP, mode=Mode.SUBTRACT)

    # M2.5 Clearance Hole4
    with Locations(Plane(origin=(0, 0, 67148.280329869), x_dir=(-1, 0, 0), z_dir=(0, 0, -1))):
        with Locations((0, 40.75)):
            Hole(M2_5_CLEARANCE_HOLE4_D / 2, depth=M2_5_CLEARANCE_HOLE4_DEPTH)
            with Locations((0, 0, -(M2_5_CLEARANCE_HOLE4_DEPTH + M2_5_CLEARANCE_HOLE4_TIP / 2))):  # 118° drill point
                Cone(0, M2_5_CLEARANCE_HOLE4_D / 2, M2_5_CLEARANCE_HOLE4_TIP, mode=Mode.SUBTRACT)

    # M2.5 Clearance Hole5
    with Locations(Plane(origin=(0, 0, 67148.280329869), x_dir=(-1, 0, 0), z_dir=(0, 0, -1))):
        with Locations((63.25, 0)):
            Hole(M2_5_CLEARANCE_HOLE5_D / 2, depth=M2_5_CLEARANCE_HOLE5_DEPTH)
            with Locations((0, 0, -(M2_5_CLEARANCE_HOLE5_DEPTH + M2_5_CLEARANCE_HOLE5_TIP / 2))):  # 118° drill point
                Cone(0, M2_5_CLEARANCE_HOLE5_D / 2, M2_5_CLEARANCE_HOLE5_TIP, mode=Mode.SUBTRACT)


solid = part_1.part
